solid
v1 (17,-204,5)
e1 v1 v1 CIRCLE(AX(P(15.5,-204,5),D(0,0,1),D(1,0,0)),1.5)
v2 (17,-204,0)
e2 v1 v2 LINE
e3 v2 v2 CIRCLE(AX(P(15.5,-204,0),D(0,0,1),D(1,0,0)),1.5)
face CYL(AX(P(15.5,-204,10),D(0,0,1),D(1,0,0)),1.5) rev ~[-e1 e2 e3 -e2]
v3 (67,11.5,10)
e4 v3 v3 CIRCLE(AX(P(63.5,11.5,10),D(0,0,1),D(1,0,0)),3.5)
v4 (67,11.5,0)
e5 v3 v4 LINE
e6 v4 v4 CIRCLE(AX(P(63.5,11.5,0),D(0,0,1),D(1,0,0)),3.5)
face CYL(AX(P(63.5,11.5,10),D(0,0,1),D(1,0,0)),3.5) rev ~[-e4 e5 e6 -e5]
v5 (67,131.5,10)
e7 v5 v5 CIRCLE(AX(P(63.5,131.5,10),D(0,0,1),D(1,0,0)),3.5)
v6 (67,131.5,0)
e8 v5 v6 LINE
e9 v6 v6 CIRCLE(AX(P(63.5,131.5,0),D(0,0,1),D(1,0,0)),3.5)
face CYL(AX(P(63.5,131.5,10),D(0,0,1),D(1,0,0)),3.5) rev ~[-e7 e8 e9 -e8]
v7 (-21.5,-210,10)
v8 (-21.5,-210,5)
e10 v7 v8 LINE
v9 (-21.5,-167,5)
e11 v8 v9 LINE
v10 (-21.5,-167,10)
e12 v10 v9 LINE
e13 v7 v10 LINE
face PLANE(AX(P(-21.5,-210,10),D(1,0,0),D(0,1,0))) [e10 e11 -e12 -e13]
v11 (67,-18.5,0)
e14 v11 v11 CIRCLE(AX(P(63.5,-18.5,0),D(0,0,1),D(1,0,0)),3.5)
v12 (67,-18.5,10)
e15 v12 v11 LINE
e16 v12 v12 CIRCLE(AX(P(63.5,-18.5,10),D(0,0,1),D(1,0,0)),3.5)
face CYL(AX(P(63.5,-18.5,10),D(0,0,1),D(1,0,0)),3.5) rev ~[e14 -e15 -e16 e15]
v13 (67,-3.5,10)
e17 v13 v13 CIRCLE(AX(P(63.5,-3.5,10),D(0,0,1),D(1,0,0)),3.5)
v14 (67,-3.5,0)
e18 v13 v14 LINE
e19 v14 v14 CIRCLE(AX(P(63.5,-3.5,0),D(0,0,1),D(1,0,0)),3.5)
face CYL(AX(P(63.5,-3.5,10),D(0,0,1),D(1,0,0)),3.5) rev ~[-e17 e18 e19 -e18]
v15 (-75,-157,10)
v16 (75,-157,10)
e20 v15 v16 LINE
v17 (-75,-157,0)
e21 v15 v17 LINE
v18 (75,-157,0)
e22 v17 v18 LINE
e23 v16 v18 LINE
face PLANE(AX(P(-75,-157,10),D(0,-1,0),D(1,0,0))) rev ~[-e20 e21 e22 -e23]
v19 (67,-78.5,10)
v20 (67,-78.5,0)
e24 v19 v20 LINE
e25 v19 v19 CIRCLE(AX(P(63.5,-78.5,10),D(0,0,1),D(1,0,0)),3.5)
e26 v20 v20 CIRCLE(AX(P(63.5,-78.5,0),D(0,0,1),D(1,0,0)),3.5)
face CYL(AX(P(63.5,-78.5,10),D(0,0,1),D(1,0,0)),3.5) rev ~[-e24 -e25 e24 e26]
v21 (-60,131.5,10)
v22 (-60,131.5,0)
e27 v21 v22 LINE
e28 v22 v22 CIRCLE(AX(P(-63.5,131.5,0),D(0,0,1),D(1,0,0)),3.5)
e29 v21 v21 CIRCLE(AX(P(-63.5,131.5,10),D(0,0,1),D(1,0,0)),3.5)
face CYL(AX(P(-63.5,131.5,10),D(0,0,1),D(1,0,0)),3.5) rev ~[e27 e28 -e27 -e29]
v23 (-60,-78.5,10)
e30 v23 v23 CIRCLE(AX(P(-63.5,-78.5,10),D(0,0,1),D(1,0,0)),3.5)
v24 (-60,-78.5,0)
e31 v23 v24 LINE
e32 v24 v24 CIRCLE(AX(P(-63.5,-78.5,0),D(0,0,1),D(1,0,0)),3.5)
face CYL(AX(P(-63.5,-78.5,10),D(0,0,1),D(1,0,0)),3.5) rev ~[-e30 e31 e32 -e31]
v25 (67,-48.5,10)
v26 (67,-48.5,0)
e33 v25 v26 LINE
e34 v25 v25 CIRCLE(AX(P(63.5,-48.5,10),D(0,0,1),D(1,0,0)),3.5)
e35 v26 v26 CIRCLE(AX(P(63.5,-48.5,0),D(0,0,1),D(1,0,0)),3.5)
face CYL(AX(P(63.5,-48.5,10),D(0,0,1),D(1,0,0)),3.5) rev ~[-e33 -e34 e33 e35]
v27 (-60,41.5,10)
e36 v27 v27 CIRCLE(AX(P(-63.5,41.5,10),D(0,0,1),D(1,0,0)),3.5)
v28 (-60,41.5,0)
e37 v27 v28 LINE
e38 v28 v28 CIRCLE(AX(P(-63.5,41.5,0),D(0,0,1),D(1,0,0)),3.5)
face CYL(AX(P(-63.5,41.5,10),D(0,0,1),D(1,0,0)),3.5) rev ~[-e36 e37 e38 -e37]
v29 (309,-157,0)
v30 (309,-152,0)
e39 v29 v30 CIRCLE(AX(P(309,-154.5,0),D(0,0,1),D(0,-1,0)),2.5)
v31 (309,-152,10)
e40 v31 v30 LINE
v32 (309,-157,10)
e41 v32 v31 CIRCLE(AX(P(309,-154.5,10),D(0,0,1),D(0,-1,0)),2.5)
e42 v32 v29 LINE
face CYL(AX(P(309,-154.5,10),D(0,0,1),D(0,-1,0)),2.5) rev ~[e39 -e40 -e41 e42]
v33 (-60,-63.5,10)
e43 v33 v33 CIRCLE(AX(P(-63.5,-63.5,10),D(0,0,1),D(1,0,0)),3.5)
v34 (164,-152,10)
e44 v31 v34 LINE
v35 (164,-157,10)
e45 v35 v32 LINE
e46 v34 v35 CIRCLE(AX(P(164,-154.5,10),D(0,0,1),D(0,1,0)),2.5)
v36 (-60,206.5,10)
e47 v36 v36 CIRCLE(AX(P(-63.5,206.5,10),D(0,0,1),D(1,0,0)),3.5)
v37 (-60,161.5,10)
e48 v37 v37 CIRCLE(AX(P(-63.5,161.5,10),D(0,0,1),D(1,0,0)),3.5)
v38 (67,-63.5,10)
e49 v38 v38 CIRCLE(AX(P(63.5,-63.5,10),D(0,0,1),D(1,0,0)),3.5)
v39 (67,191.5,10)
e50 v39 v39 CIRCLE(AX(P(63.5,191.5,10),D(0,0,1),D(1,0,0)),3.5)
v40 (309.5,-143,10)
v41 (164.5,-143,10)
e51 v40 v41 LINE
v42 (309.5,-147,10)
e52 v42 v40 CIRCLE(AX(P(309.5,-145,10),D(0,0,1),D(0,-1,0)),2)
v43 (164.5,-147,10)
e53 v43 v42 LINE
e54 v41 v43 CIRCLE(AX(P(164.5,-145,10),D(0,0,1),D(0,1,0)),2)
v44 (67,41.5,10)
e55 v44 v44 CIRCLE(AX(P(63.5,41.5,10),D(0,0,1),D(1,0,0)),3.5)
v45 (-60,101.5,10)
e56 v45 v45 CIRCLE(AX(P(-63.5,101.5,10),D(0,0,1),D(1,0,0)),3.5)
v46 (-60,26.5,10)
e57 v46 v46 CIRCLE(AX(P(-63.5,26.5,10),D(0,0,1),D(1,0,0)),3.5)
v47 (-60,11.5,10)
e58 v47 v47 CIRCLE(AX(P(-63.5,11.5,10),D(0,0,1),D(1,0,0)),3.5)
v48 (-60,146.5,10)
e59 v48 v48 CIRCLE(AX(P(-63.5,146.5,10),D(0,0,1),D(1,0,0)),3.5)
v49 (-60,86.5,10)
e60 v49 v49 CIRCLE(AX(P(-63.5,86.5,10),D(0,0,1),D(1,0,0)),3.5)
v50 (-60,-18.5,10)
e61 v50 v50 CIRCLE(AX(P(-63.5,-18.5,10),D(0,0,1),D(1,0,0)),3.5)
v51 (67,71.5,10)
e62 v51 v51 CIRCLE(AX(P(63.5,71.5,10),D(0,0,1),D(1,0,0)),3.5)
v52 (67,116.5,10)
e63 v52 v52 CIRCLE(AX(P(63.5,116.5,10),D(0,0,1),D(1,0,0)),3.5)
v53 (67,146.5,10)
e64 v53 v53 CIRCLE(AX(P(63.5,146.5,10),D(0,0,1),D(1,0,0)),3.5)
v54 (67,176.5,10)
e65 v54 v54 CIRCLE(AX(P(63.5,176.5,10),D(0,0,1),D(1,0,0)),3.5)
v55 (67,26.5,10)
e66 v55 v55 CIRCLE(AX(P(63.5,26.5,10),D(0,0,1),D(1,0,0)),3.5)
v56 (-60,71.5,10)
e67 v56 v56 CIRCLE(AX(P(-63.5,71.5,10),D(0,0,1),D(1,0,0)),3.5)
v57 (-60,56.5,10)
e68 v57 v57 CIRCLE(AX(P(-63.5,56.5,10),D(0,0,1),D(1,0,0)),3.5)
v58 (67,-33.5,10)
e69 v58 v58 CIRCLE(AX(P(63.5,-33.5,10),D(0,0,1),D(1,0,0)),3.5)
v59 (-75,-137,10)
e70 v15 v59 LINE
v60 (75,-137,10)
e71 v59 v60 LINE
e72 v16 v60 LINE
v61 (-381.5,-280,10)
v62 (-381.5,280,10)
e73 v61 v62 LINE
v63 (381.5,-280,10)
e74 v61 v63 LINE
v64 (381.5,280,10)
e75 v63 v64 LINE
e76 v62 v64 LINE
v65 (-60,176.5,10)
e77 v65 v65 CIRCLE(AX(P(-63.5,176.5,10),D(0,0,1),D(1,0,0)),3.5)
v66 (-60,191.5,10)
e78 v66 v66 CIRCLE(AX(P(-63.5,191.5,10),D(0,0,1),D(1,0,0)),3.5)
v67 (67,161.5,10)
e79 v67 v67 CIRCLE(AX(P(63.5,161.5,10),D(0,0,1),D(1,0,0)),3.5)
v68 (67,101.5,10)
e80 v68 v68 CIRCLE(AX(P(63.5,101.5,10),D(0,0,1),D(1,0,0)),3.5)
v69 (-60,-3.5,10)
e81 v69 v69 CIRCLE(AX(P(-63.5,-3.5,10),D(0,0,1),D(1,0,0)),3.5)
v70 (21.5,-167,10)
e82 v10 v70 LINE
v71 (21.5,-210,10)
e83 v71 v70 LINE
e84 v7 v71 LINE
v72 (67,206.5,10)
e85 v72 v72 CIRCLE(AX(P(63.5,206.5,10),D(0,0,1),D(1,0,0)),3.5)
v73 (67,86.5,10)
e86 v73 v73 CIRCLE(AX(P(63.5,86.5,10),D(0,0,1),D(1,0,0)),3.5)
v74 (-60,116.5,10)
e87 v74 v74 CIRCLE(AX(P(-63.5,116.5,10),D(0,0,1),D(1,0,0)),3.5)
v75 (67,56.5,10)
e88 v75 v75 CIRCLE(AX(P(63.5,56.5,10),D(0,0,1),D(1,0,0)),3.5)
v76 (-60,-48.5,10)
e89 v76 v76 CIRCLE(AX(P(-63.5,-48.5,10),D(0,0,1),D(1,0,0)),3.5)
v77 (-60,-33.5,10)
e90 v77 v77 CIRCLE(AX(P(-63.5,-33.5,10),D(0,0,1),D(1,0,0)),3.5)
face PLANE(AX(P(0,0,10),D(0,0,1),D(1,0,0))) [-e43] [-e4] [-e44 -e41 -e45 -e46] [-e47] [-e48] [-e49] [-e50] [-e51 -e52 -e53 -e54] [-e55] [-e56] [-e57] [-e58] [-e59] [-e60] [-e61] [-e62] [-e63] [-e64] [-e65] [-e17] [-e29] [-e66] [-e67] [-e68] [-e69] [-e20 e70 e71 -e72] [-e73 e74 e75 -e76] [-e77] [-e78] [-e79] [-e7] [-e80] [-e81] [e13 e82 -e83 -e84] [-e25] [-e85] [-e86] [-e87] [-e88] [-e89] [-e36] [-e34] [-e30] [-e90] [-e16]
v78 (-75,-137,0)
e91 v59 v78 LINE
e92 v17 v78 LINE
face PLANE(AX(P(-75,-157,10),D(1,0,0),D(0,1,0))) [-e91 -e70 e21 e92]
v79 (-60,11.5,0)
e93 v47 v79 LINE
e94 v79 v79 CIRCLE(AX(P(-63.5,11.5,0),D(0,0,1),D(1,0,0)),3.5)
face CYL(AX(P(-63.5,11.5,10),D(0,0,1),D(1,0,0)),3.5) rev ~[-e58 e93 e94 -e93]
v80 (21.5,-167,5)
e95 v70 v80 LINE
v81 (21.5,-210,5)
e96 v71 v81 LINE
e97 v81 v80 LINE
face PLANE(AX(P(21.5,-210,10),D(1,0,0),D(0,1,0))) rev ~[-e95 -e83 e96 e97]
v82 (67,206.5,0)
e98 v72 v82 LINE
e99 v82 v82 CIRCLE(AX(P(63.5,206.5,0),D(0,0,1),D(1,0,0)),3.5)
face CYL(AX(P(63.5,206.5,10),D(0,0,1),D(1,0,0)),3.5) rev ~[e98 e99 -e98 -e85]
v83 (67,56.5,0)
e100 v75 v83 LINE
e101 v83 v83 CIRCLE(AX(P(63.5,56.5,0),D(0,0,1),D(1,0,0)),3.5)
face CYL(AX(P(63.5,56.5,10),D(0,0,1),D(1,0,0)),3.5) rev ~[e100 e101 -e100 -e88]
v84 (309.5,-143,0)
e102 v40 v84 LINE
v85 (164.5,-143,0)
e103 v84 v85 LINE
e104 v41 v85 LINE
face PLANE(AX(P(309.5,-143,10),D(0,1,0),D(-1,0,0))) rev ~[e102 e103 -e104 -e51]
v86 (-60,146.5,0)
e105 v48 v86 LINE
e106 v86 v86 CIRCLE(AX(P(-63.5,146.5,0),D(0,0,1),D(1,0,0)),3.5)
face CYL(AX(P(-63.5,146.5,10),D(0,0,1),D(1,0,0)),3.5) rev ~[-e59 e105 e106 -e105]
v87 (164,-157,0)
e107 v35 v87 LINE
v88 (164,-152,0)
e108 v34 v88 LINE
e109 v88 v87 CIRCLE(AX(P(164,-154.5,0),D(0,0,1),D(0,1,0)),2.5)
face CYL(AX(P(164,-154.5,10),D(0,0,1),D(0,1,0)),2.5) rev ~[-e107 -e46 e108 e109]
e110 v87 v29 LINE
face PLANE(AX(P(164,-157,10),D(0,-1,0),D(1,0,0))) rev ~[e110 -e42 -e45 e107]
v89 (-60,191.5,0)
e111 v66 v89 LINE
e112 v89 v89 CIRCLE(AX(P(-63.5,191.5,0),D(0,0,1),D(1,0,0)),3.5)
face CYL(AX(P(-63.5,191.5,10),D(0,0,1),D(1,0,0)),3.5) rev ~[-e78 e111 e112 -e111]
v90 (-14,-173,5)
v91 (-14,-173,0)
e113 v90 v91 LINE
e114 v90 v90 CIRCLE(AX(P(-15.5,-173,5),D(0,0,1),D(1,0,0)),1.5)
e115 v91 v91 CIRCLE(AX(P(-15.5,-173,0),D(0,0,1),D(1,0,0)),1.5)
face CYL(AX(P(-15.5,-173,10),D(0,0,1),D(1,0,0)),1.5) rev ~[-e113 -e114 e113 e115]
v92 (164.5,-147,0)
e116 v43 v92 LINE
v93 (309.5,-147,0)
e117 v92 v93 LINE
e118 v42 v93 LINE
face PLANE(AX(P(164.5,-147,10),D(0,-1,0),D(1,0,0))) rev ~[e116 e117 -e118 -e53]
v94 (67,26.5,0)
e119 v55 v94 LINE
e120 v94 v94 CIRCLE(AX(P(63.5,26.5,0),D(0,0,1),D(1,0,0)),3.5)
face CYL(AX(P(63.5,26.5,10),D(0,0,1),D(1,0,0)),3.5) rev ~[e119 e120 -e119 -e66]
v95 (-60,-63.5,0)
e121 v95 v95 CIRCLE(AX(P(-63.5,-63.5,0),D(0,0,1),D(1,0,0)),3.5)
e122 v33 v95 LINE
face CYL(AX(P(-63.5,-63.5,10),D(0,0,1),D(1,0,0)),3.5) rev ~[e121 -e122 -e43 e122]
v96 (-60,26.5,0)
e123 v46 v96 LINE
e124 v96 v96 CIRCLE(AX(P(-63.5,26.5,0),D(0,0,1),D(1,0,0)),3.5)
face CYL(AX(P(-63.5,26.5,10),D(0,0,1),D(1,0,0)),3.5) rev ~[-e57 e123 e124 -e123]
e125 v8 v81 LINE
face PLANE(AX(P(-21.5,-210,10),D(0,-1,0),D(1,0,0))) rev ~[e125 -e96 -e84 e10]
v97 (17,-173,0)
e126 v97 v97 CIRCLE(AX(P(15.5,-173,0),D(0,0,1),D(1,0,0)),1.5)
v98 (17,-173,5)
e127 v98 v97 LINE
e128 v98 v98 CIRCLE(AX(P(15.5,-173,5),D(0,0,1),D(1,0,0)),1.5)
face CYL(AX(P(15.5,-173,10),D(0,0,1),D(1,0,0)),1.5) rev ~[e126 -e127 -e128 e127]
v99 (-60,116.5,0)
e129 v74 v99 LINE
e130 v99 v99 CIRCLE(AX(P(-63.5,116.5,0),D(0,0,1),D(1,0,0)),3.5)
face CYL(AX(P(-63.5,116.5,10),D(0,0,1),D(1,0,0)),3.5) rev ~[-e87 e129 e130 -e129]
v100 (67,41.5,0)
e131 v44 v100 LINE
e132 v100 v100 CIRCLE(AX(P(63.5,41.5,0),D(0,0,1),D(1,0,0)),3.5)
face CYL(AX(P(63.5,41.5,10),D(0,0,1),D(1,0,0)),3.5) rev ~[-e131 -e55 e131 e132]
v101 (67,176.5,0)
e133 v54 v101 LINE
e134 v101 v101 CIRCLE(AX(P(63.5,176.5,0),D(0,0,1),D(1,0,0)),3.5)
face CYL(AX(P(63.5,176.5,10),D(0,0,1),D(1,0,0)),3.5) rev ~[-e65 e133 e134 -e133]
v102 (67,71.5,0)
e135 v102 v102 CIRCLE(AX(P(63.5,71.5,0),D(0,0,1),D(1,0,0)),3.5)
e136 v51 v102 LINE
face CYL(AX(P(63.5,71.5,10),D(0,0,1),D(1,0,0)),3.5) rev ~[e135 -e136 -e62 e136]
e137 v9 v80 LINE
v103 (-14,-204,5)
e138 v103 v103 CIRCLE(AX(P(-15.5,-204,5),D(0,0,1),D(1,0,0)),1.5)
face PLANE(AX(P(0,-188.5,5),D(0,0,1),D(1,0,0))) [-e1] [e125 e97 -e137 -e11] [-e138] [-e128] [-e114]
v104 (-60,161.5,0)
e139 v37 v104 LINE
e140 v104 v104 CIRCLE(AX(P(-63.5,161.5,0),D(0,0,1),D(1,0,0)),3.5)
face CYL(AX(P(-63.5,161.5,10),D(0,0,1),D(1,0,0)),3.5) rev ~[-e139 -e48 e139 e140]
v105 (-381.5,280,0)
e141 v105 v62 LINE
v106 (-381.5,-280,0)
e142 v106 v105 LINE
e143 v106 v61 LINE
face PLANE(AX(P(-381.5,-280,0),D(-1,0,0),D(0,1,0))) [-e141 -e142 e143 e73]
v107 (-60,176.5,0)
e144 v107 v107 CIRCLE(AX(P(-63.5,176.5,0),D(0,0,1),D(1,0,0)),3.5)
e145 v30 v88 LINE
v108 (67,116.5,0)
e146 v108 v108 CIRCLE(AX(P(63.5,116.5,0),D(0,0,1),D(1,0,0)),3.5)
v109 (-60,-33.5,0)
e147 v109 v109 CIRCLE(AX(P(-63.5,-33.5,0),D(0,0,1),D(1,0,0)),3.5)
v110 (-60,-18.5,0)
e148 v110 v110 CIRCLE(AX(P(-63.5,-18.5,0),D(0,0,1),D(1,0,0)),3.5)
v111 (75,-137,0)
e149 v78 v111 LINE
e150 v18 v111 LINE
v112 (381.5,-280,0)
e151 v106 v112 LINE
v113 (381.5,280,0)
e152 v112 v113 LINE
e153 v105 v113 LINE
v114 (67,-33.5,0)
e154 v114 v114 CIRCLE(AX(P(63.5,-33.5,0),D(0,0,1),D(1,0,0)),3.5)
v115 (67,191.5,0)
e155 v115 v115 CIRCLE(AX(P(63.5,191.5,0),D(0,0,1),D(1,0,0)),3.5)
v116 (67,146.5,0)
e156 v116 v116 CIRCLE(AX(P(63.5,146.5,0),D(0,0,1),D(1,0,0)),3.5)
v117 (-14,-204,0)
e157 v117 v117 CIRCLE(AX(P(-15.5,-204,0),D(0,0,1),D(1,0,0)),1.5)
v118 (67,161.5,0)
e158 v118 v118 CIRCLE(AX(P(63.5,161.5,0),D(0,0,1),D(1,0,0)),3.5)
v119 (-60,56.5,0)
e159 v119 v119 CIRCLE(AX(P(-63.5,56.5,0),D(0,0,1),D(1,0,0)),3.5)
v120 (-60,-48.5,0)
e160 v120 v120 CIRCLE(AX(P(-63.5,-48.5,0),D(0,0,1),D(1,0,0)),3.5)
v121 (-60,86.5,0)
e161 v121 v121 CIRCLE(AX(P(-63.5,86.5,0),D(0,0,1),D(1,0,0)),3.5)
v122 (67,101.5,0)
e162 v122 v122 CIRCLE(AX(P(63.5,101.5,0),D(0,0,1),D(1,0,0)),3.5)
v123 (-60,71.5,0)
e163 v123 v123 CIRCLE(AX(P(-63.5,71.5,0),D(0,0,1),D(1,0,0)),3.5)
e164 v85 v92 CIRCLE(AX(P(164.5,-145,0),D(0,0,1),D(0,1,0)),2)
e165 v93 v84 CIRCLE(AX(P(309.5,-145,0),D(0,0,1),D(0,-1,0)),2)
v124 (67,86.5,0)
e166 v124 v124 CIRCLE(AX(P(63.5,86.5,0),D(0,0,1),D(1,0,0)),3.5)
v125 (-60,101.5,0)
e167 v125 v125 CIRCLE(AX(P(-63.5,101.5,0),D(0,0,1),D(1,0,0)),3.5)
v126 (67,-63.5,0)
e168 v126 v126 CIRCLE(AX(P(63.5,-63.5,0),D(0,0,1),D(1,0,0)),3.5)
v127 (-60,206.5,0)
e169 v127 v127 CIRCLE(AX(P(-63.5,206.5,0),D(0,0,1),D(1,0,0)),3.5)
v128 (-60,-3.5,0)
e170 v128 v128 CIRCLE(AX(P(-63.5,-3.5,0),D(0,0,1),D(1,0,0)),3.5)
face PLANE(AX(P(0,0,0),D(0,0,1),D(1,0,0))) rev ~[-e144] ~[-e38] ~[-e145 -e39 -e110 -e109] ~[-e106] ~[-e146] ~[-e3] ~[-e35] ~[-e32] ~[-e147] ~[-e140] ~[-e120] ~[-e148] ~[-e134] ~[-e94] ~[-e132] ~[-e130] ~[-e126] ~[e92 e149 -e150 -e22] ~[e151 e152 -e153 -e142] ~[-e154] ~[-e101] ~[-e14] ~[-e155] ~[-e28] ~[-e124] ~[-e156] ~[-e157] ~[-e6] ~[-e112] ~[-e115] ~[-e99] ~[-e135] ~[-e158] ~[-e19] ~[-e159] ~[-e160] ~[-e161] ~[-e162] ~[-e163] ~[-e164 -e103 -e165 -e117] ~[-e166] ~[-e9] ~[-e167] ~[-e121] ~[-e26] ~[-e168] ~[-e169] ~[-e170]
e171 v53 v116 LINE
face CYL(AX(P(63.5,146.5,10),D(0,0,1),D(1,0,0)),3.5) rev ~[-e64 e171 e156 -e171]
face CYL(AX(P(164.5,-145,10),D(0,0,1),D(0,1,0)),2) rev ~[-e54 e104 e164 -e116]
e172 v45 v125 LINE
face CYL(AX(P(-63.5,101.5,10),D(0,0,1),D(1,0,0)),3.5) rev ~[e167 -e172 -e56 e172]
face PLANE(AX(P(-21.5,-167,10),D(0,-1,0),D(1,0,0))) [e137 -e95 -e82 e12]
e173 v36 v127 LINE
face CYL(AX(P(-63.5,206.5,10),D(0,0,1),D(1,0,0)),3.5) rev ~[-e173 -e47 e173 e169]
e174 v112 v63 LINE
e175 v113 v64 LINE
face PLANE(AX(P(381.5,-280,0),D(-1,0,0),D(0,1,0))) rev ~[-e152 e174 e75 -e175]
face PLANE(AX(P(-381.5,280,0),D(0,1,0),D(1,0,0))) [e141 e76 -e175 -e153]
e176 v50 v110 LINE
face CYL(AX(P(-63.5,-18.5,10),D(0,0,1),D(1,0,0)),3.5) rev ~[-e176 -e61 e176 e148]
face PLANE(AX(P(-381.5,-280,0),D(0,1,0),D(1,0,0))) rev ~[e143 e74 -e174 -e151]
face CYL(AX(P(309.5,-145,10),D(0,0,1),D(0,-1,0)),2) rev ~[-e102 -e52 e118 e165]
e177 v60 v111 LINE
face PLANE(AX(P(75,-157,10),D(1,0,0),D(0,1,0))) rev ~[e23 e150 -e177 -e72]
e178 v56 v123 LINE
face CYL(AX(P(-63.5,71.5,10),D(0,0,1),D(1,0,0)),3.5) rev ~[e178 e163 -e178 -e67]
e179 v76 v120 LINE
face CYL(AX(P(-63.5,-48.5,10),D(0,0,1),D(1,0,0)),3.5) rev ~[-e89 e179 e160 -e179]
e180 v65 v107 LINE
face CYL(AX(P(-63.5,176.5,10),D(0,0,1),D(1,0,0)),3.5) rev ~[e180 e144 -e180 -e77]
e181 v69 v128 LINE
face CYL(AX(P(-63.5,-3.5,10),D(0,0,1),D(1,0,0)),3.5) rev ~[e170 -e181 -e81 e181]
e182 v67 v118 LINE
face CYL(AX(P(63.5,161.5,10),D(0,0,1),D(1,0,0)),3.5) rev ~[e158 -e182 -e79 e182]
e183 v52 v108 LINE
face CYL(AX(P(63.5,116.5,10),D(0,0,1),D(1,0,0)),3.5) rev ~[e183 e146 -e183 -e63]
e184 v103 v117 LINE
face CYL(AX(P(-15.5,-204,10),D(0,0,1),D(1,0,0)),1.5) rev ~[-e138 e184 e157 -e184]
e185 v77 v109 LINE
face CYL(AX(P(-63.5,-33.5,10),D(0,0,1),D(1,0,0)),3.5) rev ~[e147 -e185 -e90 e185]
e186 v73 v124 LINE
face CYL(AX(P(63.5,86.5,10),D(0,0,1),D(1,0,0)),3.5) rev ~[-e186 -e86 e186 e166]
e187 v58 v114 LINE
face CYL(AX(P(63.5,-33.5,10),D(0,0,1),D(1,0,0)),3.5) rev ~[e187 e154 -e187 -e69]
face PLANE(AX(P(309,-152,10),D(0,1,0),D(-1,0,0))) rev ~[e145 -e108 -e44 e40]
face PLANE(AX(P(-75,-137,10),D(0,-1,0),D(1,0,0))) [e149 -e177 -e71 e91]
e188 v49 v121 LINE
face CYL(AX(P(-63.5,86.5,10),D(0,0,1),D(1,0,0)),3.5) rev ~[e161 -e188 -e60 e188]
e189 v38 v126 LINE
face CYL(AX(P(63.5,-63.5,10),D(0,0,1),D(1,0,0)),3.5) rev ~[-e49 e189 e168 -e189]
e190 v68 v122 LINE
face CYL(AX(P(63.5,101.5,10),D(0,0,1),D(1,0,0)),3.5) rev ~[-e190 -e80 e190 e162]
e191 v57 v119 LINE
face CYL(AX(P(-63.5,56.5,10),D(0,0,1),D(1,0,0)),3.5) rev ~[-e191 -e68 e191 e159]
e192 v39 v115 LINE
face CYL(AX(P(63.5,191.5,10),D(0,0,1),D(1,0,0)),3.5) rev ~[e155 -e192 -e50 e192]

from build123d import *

# Parameters (mm, degrees)
F0_W      = 763
F0_H      = 560
F1_DEPTH  = 10
F2_R      = 3.5
F3_DEPTH  = 10
F4_W      = 43
F4_H      = 43
F4_R      = 1.5
F5_DEPTH  = 5
F6_DEPTH  = 10
F4_W_2    = 150
F4_H_2    = 20
F7_DEPTH  = 10
F8_DEPTH  = 10
F9_DEPTH  = 10
F10_DEPTH = 10


with BuildPart() as f1:
    # F0 (on Top) → F1 (new body)
    with BuildSketch(Plane.XY):
        Rectangle(F0_W, F0_H)
    extrude(amount=F1_DEPTH)

    # F2 (on face) → F3 (cut)
    with BuildSketch(Plane.XY.offset(10)):
        with Locations((-63.5, 206.5)):
            Circle(F2_R)
        with Locations((-63.5, 191.5)):
            Circle(F2_R)
        with Locations((-63.5, 176.5)):
            Circle(F2_R)
        with Locations((-63.5, 161.5)):
            Circle(F2_R)
        with Locations((-63.5, 146.5)):
            Circle(F2_R)
        with Locations((-63.5, 131.5)):
            Circle(F2_R)
        with Locations((-63.5, 116.5)):
            Circle(F2_R)
        with Locations((-63.5, 101.5)):
            Circle(F2_R)
        with Locations((-63.5, 86.5)):
            Circle(F2_R)
        with Locations((-63.5, 71.5)):
            Circle(F2_R)
        with Locations((-63.5, 56.5)):
            Circle(F2_R)
        with Locations((-63.5, 41.5)):
            Circle(F2_R)
        with Locations((-63.5, 26.5)):
            Circle(F2_R)
        with Locations((-63.5, 11.5)):
            Circle(F2_R)
        with Locations((-63.5, -3.5)):
            Circle(F2_R)
        with Locations((-63.5, -18.5)):
            Circle(F2_R)
        with Locations((-63.5, -33.5)):
            Circle(F2_R)
        with Locations((-63.5, -48.5)):
            Circle(F2_R)
        with Locations((-63.5, -63.5)):
            Circle(F2_R)
        with Locations((-63.5, -78.5)):
            Circle(F2_R)
        with Locations((63.5, 191.5)):
            Circle(F2_R)
        with Locations((63.5, 86.5)):
            Circle(F2_R)
        with Locations((63.5, 41.5)):
            Circle(F2_R)
        with Locations((63.5, 26.5)):
            Circle(F2_R)
        with Locations((63.5, 101.5)):
            Circle(F2_R)
        with Locations((63.5, -18.5)):
            Circle(F2_R)
        with Locations((63.5, 131.5)):
            Circle(F2_R)
        with Locations((63.5, -63.5)):
            Circle(F2_R)
        with Locations((63.5, 71.5)):
            Circle(F2_R)
        with Locations((63.5, 161.5)):
            Circle(F2_R)
        with Locations((63.5, 176.5)):
            Circle(F2_R)
        with Locations((63.5, -48.5)):
            Circle(F2_R)
        with Locations((63.5, 11.5)):
            Circle(F2_R)
        with Locations((63.5, -78.5)):
            Circle(F2_R)
        with Locations((63.5, -33.5)):
            Circle(F2_R)
        with Locations((63.5, 146.5)):
            Circle(F2_R)
        with Locations((63.5, -3.5)):
            Circle(F2_R)
        with Locations((63.5, 116.5)):
            Circle(F2_R)
        with Locations((63.5, 56.5)):
            Circle(F2_R)
        with Locations((63.5, 206.5)):
            Circle(F2_R)
    extrude(amount=-F3_DEPTH, mode=Mode.SUBTRACT)

    # F4 (on face) → F5 (cut)
    with BuildSketch(Plane.XY.offset(10)):
        with Locations((0, -188.5)):
            Rectangle(F4_W, F4_H)
        with Locations((-15.5, -204)):
            Circle(F4_R, mode=Mode.SUBTRACT)
        with Locations((-15.5, -173)):
            Circle(F4_R, mode=Mode.SUBTRACT)
        with Locations((15.5, -204)):
            Circle(F4_R, mode=Mode.SUBTRACT)
        with Locations((15.5, -173)):
            Circle(F4_R, mode=Mode.SUBTRACT)
    extrude(amount=-F5_DEPTH, mode=Mode.SUBTRACT)

    # F6 (cut): faces of the model
    f6_faces = [f1.faces().sort_by_distance(p)[0] for p in [
        (15.5, -204, 10),
        (15.5, -173, 10),
        (-15.5, -173, 10),
        (-15.5, -204, 10),
    ]]
    extrude(f6_faces, amount=-F6_DEPTH, mode=Mode.SUBTRACT)

    # F4 (on face) → F7 (cut)
    with BuildSketch(Plane.XY.offset(10)):
        with Locations((0, -147)):
            Rectangle(F4_W_2, F4_H_2)
    extrude(amount=-F7_DEPTH, mode=Mode.SUBTRACT)

    # F4 (on face) → F8 (cut)
    with BuildSketch(Plane.XY.offset(10)):
        with BuildLine():
            Line((309, -152), (164, -152))
            ThreePointArc((164, -152), (161.5, -154.5), (164, -157))
            Line((164, -157), (309, -157))
            ThreePointArc((309, -157), (311.5, -154.5), (309, -152))
        make_face()
    extrude(amount=-F8_DEPTH, mode=Mode.SUBTRACT)

    # F4 (on face) → F9 (cut)
    with BuildSketch(Plane.XY.offset(10)):
        with BuildLine():
            ThreePointArc((164.5, -143), (162.5, -145), (164.5, -147))
            Line((164.5, -147), (309.5, -147))
            ThreePointArc((309.5, -147), (311.5, -145), (309.5, -143))
            Line((309.5, -143), (164.5, -143))
        make_face()
    extrude(amount=-F9_DEPTH, mode=Mode.SUBTRACT)

    # F2 (on face) → F10 (cut)
    with BuildSketch(Plane.XY.offset(10)):
        with Locations((-63.5, 206.5)):
            Circle(F2_R)
        with Locations((-63.5, 191.5)):
            Circle(F2_R)
        with Locations((-63.5, 176.5)):
            Circle(F2_R)
        with Locations((-63.5, 161.5)):
            Circle(F2_R)
        with Locations((-63.5, 146.5)):
            Circle(F2_R)
        with Locations((-63.5, 131.5)):
            Circle(F2_R)
        with Locations((-63.5, 116.5)):
            Circle(F2_R)
        with Locations((-63.5, 101.5)):
            Circle(F2_R)
        with Locations((-63.5, 86.5)):
            Circle(F2_R)
        with Locations((-63.5, 71.5)):
            Circle(F2_R)
        with Locations((-63.5, 56.5)):
            Circle(F2_R)
        with Locations((-63.5, 41.5)):
            Circle(F2_R)
        with Locations((-63.5, 26.5)):
            Circle(F2_R)
        with Locations((-63.5, 11.5)):
            Circle(F2_R)
        with Locations((-63.5, -3.5)):
            Circle(F2_R)
        with Locations((-63.5, -18.5)):
            Circle(F2_R)
        with Locations((-63.5, -33.5)):
            Circle(F2_R)
        with Locations((-63.5, -48.5)):
            Circle(F2_R)
        with Locations((-63.5, -63.5)):
            Circle(F2_R)
        with Locations((-63.5, -78.5)):
            Circle(F2_R)
        with Locations((63.5, 191.5)):
            Circle(F2_R)
        with Locations((63.5, 86.5)):
            Circle(F2_R)
        with Locations((63.5, 41.5)):
            Circle(F2_R)
        with Locations((63.5, 26.5)):
            Circle(F2_R)
        with Locations((63.5, 101.5)):
            Circle(F2_R)
        with Locations((63.5, -18.5)):
            Circle(F2_R)
        with Locations((63.5, 131.5)):
            Circle(F2_R)
        with Locations((63.5, -63.5)):
            Circle(F2_R)
        with Locations((63.5, 71.5)):
            Circle(F2_R)
        with Locations((63.5, 161.5)):
            Circle(F2_R)
        with Locations((63.5, 176.5)):
            Circle(F2_R)
        with Locations((63.5, -48.5)):
            Circle(F2_R)
        with Locations((63.5, 11.5)):
            Circle(F2_R)
        with Locations((63.5, -78.5)):
            Circle(F2_R)
        with Locations((63.5, -33.5)):
            Circle(F2_R)
        with Locations((63.5, 146.5)):
            Circle(F2_R)
        with Locations((63.5, -3.5)):
            Circle(F2_R)
        with Locations((63.5, 116.5)):
            Circle(F2_R)
        with Locations((63.5, 56.5)):
            Circle(F2_R)
        with Locations((63.5, 206.5)):
            Circle(F2_R)
    extrude(amount=-F10_DEPTH, mode=Mode.SUBTRACT)


solid = f1.part
